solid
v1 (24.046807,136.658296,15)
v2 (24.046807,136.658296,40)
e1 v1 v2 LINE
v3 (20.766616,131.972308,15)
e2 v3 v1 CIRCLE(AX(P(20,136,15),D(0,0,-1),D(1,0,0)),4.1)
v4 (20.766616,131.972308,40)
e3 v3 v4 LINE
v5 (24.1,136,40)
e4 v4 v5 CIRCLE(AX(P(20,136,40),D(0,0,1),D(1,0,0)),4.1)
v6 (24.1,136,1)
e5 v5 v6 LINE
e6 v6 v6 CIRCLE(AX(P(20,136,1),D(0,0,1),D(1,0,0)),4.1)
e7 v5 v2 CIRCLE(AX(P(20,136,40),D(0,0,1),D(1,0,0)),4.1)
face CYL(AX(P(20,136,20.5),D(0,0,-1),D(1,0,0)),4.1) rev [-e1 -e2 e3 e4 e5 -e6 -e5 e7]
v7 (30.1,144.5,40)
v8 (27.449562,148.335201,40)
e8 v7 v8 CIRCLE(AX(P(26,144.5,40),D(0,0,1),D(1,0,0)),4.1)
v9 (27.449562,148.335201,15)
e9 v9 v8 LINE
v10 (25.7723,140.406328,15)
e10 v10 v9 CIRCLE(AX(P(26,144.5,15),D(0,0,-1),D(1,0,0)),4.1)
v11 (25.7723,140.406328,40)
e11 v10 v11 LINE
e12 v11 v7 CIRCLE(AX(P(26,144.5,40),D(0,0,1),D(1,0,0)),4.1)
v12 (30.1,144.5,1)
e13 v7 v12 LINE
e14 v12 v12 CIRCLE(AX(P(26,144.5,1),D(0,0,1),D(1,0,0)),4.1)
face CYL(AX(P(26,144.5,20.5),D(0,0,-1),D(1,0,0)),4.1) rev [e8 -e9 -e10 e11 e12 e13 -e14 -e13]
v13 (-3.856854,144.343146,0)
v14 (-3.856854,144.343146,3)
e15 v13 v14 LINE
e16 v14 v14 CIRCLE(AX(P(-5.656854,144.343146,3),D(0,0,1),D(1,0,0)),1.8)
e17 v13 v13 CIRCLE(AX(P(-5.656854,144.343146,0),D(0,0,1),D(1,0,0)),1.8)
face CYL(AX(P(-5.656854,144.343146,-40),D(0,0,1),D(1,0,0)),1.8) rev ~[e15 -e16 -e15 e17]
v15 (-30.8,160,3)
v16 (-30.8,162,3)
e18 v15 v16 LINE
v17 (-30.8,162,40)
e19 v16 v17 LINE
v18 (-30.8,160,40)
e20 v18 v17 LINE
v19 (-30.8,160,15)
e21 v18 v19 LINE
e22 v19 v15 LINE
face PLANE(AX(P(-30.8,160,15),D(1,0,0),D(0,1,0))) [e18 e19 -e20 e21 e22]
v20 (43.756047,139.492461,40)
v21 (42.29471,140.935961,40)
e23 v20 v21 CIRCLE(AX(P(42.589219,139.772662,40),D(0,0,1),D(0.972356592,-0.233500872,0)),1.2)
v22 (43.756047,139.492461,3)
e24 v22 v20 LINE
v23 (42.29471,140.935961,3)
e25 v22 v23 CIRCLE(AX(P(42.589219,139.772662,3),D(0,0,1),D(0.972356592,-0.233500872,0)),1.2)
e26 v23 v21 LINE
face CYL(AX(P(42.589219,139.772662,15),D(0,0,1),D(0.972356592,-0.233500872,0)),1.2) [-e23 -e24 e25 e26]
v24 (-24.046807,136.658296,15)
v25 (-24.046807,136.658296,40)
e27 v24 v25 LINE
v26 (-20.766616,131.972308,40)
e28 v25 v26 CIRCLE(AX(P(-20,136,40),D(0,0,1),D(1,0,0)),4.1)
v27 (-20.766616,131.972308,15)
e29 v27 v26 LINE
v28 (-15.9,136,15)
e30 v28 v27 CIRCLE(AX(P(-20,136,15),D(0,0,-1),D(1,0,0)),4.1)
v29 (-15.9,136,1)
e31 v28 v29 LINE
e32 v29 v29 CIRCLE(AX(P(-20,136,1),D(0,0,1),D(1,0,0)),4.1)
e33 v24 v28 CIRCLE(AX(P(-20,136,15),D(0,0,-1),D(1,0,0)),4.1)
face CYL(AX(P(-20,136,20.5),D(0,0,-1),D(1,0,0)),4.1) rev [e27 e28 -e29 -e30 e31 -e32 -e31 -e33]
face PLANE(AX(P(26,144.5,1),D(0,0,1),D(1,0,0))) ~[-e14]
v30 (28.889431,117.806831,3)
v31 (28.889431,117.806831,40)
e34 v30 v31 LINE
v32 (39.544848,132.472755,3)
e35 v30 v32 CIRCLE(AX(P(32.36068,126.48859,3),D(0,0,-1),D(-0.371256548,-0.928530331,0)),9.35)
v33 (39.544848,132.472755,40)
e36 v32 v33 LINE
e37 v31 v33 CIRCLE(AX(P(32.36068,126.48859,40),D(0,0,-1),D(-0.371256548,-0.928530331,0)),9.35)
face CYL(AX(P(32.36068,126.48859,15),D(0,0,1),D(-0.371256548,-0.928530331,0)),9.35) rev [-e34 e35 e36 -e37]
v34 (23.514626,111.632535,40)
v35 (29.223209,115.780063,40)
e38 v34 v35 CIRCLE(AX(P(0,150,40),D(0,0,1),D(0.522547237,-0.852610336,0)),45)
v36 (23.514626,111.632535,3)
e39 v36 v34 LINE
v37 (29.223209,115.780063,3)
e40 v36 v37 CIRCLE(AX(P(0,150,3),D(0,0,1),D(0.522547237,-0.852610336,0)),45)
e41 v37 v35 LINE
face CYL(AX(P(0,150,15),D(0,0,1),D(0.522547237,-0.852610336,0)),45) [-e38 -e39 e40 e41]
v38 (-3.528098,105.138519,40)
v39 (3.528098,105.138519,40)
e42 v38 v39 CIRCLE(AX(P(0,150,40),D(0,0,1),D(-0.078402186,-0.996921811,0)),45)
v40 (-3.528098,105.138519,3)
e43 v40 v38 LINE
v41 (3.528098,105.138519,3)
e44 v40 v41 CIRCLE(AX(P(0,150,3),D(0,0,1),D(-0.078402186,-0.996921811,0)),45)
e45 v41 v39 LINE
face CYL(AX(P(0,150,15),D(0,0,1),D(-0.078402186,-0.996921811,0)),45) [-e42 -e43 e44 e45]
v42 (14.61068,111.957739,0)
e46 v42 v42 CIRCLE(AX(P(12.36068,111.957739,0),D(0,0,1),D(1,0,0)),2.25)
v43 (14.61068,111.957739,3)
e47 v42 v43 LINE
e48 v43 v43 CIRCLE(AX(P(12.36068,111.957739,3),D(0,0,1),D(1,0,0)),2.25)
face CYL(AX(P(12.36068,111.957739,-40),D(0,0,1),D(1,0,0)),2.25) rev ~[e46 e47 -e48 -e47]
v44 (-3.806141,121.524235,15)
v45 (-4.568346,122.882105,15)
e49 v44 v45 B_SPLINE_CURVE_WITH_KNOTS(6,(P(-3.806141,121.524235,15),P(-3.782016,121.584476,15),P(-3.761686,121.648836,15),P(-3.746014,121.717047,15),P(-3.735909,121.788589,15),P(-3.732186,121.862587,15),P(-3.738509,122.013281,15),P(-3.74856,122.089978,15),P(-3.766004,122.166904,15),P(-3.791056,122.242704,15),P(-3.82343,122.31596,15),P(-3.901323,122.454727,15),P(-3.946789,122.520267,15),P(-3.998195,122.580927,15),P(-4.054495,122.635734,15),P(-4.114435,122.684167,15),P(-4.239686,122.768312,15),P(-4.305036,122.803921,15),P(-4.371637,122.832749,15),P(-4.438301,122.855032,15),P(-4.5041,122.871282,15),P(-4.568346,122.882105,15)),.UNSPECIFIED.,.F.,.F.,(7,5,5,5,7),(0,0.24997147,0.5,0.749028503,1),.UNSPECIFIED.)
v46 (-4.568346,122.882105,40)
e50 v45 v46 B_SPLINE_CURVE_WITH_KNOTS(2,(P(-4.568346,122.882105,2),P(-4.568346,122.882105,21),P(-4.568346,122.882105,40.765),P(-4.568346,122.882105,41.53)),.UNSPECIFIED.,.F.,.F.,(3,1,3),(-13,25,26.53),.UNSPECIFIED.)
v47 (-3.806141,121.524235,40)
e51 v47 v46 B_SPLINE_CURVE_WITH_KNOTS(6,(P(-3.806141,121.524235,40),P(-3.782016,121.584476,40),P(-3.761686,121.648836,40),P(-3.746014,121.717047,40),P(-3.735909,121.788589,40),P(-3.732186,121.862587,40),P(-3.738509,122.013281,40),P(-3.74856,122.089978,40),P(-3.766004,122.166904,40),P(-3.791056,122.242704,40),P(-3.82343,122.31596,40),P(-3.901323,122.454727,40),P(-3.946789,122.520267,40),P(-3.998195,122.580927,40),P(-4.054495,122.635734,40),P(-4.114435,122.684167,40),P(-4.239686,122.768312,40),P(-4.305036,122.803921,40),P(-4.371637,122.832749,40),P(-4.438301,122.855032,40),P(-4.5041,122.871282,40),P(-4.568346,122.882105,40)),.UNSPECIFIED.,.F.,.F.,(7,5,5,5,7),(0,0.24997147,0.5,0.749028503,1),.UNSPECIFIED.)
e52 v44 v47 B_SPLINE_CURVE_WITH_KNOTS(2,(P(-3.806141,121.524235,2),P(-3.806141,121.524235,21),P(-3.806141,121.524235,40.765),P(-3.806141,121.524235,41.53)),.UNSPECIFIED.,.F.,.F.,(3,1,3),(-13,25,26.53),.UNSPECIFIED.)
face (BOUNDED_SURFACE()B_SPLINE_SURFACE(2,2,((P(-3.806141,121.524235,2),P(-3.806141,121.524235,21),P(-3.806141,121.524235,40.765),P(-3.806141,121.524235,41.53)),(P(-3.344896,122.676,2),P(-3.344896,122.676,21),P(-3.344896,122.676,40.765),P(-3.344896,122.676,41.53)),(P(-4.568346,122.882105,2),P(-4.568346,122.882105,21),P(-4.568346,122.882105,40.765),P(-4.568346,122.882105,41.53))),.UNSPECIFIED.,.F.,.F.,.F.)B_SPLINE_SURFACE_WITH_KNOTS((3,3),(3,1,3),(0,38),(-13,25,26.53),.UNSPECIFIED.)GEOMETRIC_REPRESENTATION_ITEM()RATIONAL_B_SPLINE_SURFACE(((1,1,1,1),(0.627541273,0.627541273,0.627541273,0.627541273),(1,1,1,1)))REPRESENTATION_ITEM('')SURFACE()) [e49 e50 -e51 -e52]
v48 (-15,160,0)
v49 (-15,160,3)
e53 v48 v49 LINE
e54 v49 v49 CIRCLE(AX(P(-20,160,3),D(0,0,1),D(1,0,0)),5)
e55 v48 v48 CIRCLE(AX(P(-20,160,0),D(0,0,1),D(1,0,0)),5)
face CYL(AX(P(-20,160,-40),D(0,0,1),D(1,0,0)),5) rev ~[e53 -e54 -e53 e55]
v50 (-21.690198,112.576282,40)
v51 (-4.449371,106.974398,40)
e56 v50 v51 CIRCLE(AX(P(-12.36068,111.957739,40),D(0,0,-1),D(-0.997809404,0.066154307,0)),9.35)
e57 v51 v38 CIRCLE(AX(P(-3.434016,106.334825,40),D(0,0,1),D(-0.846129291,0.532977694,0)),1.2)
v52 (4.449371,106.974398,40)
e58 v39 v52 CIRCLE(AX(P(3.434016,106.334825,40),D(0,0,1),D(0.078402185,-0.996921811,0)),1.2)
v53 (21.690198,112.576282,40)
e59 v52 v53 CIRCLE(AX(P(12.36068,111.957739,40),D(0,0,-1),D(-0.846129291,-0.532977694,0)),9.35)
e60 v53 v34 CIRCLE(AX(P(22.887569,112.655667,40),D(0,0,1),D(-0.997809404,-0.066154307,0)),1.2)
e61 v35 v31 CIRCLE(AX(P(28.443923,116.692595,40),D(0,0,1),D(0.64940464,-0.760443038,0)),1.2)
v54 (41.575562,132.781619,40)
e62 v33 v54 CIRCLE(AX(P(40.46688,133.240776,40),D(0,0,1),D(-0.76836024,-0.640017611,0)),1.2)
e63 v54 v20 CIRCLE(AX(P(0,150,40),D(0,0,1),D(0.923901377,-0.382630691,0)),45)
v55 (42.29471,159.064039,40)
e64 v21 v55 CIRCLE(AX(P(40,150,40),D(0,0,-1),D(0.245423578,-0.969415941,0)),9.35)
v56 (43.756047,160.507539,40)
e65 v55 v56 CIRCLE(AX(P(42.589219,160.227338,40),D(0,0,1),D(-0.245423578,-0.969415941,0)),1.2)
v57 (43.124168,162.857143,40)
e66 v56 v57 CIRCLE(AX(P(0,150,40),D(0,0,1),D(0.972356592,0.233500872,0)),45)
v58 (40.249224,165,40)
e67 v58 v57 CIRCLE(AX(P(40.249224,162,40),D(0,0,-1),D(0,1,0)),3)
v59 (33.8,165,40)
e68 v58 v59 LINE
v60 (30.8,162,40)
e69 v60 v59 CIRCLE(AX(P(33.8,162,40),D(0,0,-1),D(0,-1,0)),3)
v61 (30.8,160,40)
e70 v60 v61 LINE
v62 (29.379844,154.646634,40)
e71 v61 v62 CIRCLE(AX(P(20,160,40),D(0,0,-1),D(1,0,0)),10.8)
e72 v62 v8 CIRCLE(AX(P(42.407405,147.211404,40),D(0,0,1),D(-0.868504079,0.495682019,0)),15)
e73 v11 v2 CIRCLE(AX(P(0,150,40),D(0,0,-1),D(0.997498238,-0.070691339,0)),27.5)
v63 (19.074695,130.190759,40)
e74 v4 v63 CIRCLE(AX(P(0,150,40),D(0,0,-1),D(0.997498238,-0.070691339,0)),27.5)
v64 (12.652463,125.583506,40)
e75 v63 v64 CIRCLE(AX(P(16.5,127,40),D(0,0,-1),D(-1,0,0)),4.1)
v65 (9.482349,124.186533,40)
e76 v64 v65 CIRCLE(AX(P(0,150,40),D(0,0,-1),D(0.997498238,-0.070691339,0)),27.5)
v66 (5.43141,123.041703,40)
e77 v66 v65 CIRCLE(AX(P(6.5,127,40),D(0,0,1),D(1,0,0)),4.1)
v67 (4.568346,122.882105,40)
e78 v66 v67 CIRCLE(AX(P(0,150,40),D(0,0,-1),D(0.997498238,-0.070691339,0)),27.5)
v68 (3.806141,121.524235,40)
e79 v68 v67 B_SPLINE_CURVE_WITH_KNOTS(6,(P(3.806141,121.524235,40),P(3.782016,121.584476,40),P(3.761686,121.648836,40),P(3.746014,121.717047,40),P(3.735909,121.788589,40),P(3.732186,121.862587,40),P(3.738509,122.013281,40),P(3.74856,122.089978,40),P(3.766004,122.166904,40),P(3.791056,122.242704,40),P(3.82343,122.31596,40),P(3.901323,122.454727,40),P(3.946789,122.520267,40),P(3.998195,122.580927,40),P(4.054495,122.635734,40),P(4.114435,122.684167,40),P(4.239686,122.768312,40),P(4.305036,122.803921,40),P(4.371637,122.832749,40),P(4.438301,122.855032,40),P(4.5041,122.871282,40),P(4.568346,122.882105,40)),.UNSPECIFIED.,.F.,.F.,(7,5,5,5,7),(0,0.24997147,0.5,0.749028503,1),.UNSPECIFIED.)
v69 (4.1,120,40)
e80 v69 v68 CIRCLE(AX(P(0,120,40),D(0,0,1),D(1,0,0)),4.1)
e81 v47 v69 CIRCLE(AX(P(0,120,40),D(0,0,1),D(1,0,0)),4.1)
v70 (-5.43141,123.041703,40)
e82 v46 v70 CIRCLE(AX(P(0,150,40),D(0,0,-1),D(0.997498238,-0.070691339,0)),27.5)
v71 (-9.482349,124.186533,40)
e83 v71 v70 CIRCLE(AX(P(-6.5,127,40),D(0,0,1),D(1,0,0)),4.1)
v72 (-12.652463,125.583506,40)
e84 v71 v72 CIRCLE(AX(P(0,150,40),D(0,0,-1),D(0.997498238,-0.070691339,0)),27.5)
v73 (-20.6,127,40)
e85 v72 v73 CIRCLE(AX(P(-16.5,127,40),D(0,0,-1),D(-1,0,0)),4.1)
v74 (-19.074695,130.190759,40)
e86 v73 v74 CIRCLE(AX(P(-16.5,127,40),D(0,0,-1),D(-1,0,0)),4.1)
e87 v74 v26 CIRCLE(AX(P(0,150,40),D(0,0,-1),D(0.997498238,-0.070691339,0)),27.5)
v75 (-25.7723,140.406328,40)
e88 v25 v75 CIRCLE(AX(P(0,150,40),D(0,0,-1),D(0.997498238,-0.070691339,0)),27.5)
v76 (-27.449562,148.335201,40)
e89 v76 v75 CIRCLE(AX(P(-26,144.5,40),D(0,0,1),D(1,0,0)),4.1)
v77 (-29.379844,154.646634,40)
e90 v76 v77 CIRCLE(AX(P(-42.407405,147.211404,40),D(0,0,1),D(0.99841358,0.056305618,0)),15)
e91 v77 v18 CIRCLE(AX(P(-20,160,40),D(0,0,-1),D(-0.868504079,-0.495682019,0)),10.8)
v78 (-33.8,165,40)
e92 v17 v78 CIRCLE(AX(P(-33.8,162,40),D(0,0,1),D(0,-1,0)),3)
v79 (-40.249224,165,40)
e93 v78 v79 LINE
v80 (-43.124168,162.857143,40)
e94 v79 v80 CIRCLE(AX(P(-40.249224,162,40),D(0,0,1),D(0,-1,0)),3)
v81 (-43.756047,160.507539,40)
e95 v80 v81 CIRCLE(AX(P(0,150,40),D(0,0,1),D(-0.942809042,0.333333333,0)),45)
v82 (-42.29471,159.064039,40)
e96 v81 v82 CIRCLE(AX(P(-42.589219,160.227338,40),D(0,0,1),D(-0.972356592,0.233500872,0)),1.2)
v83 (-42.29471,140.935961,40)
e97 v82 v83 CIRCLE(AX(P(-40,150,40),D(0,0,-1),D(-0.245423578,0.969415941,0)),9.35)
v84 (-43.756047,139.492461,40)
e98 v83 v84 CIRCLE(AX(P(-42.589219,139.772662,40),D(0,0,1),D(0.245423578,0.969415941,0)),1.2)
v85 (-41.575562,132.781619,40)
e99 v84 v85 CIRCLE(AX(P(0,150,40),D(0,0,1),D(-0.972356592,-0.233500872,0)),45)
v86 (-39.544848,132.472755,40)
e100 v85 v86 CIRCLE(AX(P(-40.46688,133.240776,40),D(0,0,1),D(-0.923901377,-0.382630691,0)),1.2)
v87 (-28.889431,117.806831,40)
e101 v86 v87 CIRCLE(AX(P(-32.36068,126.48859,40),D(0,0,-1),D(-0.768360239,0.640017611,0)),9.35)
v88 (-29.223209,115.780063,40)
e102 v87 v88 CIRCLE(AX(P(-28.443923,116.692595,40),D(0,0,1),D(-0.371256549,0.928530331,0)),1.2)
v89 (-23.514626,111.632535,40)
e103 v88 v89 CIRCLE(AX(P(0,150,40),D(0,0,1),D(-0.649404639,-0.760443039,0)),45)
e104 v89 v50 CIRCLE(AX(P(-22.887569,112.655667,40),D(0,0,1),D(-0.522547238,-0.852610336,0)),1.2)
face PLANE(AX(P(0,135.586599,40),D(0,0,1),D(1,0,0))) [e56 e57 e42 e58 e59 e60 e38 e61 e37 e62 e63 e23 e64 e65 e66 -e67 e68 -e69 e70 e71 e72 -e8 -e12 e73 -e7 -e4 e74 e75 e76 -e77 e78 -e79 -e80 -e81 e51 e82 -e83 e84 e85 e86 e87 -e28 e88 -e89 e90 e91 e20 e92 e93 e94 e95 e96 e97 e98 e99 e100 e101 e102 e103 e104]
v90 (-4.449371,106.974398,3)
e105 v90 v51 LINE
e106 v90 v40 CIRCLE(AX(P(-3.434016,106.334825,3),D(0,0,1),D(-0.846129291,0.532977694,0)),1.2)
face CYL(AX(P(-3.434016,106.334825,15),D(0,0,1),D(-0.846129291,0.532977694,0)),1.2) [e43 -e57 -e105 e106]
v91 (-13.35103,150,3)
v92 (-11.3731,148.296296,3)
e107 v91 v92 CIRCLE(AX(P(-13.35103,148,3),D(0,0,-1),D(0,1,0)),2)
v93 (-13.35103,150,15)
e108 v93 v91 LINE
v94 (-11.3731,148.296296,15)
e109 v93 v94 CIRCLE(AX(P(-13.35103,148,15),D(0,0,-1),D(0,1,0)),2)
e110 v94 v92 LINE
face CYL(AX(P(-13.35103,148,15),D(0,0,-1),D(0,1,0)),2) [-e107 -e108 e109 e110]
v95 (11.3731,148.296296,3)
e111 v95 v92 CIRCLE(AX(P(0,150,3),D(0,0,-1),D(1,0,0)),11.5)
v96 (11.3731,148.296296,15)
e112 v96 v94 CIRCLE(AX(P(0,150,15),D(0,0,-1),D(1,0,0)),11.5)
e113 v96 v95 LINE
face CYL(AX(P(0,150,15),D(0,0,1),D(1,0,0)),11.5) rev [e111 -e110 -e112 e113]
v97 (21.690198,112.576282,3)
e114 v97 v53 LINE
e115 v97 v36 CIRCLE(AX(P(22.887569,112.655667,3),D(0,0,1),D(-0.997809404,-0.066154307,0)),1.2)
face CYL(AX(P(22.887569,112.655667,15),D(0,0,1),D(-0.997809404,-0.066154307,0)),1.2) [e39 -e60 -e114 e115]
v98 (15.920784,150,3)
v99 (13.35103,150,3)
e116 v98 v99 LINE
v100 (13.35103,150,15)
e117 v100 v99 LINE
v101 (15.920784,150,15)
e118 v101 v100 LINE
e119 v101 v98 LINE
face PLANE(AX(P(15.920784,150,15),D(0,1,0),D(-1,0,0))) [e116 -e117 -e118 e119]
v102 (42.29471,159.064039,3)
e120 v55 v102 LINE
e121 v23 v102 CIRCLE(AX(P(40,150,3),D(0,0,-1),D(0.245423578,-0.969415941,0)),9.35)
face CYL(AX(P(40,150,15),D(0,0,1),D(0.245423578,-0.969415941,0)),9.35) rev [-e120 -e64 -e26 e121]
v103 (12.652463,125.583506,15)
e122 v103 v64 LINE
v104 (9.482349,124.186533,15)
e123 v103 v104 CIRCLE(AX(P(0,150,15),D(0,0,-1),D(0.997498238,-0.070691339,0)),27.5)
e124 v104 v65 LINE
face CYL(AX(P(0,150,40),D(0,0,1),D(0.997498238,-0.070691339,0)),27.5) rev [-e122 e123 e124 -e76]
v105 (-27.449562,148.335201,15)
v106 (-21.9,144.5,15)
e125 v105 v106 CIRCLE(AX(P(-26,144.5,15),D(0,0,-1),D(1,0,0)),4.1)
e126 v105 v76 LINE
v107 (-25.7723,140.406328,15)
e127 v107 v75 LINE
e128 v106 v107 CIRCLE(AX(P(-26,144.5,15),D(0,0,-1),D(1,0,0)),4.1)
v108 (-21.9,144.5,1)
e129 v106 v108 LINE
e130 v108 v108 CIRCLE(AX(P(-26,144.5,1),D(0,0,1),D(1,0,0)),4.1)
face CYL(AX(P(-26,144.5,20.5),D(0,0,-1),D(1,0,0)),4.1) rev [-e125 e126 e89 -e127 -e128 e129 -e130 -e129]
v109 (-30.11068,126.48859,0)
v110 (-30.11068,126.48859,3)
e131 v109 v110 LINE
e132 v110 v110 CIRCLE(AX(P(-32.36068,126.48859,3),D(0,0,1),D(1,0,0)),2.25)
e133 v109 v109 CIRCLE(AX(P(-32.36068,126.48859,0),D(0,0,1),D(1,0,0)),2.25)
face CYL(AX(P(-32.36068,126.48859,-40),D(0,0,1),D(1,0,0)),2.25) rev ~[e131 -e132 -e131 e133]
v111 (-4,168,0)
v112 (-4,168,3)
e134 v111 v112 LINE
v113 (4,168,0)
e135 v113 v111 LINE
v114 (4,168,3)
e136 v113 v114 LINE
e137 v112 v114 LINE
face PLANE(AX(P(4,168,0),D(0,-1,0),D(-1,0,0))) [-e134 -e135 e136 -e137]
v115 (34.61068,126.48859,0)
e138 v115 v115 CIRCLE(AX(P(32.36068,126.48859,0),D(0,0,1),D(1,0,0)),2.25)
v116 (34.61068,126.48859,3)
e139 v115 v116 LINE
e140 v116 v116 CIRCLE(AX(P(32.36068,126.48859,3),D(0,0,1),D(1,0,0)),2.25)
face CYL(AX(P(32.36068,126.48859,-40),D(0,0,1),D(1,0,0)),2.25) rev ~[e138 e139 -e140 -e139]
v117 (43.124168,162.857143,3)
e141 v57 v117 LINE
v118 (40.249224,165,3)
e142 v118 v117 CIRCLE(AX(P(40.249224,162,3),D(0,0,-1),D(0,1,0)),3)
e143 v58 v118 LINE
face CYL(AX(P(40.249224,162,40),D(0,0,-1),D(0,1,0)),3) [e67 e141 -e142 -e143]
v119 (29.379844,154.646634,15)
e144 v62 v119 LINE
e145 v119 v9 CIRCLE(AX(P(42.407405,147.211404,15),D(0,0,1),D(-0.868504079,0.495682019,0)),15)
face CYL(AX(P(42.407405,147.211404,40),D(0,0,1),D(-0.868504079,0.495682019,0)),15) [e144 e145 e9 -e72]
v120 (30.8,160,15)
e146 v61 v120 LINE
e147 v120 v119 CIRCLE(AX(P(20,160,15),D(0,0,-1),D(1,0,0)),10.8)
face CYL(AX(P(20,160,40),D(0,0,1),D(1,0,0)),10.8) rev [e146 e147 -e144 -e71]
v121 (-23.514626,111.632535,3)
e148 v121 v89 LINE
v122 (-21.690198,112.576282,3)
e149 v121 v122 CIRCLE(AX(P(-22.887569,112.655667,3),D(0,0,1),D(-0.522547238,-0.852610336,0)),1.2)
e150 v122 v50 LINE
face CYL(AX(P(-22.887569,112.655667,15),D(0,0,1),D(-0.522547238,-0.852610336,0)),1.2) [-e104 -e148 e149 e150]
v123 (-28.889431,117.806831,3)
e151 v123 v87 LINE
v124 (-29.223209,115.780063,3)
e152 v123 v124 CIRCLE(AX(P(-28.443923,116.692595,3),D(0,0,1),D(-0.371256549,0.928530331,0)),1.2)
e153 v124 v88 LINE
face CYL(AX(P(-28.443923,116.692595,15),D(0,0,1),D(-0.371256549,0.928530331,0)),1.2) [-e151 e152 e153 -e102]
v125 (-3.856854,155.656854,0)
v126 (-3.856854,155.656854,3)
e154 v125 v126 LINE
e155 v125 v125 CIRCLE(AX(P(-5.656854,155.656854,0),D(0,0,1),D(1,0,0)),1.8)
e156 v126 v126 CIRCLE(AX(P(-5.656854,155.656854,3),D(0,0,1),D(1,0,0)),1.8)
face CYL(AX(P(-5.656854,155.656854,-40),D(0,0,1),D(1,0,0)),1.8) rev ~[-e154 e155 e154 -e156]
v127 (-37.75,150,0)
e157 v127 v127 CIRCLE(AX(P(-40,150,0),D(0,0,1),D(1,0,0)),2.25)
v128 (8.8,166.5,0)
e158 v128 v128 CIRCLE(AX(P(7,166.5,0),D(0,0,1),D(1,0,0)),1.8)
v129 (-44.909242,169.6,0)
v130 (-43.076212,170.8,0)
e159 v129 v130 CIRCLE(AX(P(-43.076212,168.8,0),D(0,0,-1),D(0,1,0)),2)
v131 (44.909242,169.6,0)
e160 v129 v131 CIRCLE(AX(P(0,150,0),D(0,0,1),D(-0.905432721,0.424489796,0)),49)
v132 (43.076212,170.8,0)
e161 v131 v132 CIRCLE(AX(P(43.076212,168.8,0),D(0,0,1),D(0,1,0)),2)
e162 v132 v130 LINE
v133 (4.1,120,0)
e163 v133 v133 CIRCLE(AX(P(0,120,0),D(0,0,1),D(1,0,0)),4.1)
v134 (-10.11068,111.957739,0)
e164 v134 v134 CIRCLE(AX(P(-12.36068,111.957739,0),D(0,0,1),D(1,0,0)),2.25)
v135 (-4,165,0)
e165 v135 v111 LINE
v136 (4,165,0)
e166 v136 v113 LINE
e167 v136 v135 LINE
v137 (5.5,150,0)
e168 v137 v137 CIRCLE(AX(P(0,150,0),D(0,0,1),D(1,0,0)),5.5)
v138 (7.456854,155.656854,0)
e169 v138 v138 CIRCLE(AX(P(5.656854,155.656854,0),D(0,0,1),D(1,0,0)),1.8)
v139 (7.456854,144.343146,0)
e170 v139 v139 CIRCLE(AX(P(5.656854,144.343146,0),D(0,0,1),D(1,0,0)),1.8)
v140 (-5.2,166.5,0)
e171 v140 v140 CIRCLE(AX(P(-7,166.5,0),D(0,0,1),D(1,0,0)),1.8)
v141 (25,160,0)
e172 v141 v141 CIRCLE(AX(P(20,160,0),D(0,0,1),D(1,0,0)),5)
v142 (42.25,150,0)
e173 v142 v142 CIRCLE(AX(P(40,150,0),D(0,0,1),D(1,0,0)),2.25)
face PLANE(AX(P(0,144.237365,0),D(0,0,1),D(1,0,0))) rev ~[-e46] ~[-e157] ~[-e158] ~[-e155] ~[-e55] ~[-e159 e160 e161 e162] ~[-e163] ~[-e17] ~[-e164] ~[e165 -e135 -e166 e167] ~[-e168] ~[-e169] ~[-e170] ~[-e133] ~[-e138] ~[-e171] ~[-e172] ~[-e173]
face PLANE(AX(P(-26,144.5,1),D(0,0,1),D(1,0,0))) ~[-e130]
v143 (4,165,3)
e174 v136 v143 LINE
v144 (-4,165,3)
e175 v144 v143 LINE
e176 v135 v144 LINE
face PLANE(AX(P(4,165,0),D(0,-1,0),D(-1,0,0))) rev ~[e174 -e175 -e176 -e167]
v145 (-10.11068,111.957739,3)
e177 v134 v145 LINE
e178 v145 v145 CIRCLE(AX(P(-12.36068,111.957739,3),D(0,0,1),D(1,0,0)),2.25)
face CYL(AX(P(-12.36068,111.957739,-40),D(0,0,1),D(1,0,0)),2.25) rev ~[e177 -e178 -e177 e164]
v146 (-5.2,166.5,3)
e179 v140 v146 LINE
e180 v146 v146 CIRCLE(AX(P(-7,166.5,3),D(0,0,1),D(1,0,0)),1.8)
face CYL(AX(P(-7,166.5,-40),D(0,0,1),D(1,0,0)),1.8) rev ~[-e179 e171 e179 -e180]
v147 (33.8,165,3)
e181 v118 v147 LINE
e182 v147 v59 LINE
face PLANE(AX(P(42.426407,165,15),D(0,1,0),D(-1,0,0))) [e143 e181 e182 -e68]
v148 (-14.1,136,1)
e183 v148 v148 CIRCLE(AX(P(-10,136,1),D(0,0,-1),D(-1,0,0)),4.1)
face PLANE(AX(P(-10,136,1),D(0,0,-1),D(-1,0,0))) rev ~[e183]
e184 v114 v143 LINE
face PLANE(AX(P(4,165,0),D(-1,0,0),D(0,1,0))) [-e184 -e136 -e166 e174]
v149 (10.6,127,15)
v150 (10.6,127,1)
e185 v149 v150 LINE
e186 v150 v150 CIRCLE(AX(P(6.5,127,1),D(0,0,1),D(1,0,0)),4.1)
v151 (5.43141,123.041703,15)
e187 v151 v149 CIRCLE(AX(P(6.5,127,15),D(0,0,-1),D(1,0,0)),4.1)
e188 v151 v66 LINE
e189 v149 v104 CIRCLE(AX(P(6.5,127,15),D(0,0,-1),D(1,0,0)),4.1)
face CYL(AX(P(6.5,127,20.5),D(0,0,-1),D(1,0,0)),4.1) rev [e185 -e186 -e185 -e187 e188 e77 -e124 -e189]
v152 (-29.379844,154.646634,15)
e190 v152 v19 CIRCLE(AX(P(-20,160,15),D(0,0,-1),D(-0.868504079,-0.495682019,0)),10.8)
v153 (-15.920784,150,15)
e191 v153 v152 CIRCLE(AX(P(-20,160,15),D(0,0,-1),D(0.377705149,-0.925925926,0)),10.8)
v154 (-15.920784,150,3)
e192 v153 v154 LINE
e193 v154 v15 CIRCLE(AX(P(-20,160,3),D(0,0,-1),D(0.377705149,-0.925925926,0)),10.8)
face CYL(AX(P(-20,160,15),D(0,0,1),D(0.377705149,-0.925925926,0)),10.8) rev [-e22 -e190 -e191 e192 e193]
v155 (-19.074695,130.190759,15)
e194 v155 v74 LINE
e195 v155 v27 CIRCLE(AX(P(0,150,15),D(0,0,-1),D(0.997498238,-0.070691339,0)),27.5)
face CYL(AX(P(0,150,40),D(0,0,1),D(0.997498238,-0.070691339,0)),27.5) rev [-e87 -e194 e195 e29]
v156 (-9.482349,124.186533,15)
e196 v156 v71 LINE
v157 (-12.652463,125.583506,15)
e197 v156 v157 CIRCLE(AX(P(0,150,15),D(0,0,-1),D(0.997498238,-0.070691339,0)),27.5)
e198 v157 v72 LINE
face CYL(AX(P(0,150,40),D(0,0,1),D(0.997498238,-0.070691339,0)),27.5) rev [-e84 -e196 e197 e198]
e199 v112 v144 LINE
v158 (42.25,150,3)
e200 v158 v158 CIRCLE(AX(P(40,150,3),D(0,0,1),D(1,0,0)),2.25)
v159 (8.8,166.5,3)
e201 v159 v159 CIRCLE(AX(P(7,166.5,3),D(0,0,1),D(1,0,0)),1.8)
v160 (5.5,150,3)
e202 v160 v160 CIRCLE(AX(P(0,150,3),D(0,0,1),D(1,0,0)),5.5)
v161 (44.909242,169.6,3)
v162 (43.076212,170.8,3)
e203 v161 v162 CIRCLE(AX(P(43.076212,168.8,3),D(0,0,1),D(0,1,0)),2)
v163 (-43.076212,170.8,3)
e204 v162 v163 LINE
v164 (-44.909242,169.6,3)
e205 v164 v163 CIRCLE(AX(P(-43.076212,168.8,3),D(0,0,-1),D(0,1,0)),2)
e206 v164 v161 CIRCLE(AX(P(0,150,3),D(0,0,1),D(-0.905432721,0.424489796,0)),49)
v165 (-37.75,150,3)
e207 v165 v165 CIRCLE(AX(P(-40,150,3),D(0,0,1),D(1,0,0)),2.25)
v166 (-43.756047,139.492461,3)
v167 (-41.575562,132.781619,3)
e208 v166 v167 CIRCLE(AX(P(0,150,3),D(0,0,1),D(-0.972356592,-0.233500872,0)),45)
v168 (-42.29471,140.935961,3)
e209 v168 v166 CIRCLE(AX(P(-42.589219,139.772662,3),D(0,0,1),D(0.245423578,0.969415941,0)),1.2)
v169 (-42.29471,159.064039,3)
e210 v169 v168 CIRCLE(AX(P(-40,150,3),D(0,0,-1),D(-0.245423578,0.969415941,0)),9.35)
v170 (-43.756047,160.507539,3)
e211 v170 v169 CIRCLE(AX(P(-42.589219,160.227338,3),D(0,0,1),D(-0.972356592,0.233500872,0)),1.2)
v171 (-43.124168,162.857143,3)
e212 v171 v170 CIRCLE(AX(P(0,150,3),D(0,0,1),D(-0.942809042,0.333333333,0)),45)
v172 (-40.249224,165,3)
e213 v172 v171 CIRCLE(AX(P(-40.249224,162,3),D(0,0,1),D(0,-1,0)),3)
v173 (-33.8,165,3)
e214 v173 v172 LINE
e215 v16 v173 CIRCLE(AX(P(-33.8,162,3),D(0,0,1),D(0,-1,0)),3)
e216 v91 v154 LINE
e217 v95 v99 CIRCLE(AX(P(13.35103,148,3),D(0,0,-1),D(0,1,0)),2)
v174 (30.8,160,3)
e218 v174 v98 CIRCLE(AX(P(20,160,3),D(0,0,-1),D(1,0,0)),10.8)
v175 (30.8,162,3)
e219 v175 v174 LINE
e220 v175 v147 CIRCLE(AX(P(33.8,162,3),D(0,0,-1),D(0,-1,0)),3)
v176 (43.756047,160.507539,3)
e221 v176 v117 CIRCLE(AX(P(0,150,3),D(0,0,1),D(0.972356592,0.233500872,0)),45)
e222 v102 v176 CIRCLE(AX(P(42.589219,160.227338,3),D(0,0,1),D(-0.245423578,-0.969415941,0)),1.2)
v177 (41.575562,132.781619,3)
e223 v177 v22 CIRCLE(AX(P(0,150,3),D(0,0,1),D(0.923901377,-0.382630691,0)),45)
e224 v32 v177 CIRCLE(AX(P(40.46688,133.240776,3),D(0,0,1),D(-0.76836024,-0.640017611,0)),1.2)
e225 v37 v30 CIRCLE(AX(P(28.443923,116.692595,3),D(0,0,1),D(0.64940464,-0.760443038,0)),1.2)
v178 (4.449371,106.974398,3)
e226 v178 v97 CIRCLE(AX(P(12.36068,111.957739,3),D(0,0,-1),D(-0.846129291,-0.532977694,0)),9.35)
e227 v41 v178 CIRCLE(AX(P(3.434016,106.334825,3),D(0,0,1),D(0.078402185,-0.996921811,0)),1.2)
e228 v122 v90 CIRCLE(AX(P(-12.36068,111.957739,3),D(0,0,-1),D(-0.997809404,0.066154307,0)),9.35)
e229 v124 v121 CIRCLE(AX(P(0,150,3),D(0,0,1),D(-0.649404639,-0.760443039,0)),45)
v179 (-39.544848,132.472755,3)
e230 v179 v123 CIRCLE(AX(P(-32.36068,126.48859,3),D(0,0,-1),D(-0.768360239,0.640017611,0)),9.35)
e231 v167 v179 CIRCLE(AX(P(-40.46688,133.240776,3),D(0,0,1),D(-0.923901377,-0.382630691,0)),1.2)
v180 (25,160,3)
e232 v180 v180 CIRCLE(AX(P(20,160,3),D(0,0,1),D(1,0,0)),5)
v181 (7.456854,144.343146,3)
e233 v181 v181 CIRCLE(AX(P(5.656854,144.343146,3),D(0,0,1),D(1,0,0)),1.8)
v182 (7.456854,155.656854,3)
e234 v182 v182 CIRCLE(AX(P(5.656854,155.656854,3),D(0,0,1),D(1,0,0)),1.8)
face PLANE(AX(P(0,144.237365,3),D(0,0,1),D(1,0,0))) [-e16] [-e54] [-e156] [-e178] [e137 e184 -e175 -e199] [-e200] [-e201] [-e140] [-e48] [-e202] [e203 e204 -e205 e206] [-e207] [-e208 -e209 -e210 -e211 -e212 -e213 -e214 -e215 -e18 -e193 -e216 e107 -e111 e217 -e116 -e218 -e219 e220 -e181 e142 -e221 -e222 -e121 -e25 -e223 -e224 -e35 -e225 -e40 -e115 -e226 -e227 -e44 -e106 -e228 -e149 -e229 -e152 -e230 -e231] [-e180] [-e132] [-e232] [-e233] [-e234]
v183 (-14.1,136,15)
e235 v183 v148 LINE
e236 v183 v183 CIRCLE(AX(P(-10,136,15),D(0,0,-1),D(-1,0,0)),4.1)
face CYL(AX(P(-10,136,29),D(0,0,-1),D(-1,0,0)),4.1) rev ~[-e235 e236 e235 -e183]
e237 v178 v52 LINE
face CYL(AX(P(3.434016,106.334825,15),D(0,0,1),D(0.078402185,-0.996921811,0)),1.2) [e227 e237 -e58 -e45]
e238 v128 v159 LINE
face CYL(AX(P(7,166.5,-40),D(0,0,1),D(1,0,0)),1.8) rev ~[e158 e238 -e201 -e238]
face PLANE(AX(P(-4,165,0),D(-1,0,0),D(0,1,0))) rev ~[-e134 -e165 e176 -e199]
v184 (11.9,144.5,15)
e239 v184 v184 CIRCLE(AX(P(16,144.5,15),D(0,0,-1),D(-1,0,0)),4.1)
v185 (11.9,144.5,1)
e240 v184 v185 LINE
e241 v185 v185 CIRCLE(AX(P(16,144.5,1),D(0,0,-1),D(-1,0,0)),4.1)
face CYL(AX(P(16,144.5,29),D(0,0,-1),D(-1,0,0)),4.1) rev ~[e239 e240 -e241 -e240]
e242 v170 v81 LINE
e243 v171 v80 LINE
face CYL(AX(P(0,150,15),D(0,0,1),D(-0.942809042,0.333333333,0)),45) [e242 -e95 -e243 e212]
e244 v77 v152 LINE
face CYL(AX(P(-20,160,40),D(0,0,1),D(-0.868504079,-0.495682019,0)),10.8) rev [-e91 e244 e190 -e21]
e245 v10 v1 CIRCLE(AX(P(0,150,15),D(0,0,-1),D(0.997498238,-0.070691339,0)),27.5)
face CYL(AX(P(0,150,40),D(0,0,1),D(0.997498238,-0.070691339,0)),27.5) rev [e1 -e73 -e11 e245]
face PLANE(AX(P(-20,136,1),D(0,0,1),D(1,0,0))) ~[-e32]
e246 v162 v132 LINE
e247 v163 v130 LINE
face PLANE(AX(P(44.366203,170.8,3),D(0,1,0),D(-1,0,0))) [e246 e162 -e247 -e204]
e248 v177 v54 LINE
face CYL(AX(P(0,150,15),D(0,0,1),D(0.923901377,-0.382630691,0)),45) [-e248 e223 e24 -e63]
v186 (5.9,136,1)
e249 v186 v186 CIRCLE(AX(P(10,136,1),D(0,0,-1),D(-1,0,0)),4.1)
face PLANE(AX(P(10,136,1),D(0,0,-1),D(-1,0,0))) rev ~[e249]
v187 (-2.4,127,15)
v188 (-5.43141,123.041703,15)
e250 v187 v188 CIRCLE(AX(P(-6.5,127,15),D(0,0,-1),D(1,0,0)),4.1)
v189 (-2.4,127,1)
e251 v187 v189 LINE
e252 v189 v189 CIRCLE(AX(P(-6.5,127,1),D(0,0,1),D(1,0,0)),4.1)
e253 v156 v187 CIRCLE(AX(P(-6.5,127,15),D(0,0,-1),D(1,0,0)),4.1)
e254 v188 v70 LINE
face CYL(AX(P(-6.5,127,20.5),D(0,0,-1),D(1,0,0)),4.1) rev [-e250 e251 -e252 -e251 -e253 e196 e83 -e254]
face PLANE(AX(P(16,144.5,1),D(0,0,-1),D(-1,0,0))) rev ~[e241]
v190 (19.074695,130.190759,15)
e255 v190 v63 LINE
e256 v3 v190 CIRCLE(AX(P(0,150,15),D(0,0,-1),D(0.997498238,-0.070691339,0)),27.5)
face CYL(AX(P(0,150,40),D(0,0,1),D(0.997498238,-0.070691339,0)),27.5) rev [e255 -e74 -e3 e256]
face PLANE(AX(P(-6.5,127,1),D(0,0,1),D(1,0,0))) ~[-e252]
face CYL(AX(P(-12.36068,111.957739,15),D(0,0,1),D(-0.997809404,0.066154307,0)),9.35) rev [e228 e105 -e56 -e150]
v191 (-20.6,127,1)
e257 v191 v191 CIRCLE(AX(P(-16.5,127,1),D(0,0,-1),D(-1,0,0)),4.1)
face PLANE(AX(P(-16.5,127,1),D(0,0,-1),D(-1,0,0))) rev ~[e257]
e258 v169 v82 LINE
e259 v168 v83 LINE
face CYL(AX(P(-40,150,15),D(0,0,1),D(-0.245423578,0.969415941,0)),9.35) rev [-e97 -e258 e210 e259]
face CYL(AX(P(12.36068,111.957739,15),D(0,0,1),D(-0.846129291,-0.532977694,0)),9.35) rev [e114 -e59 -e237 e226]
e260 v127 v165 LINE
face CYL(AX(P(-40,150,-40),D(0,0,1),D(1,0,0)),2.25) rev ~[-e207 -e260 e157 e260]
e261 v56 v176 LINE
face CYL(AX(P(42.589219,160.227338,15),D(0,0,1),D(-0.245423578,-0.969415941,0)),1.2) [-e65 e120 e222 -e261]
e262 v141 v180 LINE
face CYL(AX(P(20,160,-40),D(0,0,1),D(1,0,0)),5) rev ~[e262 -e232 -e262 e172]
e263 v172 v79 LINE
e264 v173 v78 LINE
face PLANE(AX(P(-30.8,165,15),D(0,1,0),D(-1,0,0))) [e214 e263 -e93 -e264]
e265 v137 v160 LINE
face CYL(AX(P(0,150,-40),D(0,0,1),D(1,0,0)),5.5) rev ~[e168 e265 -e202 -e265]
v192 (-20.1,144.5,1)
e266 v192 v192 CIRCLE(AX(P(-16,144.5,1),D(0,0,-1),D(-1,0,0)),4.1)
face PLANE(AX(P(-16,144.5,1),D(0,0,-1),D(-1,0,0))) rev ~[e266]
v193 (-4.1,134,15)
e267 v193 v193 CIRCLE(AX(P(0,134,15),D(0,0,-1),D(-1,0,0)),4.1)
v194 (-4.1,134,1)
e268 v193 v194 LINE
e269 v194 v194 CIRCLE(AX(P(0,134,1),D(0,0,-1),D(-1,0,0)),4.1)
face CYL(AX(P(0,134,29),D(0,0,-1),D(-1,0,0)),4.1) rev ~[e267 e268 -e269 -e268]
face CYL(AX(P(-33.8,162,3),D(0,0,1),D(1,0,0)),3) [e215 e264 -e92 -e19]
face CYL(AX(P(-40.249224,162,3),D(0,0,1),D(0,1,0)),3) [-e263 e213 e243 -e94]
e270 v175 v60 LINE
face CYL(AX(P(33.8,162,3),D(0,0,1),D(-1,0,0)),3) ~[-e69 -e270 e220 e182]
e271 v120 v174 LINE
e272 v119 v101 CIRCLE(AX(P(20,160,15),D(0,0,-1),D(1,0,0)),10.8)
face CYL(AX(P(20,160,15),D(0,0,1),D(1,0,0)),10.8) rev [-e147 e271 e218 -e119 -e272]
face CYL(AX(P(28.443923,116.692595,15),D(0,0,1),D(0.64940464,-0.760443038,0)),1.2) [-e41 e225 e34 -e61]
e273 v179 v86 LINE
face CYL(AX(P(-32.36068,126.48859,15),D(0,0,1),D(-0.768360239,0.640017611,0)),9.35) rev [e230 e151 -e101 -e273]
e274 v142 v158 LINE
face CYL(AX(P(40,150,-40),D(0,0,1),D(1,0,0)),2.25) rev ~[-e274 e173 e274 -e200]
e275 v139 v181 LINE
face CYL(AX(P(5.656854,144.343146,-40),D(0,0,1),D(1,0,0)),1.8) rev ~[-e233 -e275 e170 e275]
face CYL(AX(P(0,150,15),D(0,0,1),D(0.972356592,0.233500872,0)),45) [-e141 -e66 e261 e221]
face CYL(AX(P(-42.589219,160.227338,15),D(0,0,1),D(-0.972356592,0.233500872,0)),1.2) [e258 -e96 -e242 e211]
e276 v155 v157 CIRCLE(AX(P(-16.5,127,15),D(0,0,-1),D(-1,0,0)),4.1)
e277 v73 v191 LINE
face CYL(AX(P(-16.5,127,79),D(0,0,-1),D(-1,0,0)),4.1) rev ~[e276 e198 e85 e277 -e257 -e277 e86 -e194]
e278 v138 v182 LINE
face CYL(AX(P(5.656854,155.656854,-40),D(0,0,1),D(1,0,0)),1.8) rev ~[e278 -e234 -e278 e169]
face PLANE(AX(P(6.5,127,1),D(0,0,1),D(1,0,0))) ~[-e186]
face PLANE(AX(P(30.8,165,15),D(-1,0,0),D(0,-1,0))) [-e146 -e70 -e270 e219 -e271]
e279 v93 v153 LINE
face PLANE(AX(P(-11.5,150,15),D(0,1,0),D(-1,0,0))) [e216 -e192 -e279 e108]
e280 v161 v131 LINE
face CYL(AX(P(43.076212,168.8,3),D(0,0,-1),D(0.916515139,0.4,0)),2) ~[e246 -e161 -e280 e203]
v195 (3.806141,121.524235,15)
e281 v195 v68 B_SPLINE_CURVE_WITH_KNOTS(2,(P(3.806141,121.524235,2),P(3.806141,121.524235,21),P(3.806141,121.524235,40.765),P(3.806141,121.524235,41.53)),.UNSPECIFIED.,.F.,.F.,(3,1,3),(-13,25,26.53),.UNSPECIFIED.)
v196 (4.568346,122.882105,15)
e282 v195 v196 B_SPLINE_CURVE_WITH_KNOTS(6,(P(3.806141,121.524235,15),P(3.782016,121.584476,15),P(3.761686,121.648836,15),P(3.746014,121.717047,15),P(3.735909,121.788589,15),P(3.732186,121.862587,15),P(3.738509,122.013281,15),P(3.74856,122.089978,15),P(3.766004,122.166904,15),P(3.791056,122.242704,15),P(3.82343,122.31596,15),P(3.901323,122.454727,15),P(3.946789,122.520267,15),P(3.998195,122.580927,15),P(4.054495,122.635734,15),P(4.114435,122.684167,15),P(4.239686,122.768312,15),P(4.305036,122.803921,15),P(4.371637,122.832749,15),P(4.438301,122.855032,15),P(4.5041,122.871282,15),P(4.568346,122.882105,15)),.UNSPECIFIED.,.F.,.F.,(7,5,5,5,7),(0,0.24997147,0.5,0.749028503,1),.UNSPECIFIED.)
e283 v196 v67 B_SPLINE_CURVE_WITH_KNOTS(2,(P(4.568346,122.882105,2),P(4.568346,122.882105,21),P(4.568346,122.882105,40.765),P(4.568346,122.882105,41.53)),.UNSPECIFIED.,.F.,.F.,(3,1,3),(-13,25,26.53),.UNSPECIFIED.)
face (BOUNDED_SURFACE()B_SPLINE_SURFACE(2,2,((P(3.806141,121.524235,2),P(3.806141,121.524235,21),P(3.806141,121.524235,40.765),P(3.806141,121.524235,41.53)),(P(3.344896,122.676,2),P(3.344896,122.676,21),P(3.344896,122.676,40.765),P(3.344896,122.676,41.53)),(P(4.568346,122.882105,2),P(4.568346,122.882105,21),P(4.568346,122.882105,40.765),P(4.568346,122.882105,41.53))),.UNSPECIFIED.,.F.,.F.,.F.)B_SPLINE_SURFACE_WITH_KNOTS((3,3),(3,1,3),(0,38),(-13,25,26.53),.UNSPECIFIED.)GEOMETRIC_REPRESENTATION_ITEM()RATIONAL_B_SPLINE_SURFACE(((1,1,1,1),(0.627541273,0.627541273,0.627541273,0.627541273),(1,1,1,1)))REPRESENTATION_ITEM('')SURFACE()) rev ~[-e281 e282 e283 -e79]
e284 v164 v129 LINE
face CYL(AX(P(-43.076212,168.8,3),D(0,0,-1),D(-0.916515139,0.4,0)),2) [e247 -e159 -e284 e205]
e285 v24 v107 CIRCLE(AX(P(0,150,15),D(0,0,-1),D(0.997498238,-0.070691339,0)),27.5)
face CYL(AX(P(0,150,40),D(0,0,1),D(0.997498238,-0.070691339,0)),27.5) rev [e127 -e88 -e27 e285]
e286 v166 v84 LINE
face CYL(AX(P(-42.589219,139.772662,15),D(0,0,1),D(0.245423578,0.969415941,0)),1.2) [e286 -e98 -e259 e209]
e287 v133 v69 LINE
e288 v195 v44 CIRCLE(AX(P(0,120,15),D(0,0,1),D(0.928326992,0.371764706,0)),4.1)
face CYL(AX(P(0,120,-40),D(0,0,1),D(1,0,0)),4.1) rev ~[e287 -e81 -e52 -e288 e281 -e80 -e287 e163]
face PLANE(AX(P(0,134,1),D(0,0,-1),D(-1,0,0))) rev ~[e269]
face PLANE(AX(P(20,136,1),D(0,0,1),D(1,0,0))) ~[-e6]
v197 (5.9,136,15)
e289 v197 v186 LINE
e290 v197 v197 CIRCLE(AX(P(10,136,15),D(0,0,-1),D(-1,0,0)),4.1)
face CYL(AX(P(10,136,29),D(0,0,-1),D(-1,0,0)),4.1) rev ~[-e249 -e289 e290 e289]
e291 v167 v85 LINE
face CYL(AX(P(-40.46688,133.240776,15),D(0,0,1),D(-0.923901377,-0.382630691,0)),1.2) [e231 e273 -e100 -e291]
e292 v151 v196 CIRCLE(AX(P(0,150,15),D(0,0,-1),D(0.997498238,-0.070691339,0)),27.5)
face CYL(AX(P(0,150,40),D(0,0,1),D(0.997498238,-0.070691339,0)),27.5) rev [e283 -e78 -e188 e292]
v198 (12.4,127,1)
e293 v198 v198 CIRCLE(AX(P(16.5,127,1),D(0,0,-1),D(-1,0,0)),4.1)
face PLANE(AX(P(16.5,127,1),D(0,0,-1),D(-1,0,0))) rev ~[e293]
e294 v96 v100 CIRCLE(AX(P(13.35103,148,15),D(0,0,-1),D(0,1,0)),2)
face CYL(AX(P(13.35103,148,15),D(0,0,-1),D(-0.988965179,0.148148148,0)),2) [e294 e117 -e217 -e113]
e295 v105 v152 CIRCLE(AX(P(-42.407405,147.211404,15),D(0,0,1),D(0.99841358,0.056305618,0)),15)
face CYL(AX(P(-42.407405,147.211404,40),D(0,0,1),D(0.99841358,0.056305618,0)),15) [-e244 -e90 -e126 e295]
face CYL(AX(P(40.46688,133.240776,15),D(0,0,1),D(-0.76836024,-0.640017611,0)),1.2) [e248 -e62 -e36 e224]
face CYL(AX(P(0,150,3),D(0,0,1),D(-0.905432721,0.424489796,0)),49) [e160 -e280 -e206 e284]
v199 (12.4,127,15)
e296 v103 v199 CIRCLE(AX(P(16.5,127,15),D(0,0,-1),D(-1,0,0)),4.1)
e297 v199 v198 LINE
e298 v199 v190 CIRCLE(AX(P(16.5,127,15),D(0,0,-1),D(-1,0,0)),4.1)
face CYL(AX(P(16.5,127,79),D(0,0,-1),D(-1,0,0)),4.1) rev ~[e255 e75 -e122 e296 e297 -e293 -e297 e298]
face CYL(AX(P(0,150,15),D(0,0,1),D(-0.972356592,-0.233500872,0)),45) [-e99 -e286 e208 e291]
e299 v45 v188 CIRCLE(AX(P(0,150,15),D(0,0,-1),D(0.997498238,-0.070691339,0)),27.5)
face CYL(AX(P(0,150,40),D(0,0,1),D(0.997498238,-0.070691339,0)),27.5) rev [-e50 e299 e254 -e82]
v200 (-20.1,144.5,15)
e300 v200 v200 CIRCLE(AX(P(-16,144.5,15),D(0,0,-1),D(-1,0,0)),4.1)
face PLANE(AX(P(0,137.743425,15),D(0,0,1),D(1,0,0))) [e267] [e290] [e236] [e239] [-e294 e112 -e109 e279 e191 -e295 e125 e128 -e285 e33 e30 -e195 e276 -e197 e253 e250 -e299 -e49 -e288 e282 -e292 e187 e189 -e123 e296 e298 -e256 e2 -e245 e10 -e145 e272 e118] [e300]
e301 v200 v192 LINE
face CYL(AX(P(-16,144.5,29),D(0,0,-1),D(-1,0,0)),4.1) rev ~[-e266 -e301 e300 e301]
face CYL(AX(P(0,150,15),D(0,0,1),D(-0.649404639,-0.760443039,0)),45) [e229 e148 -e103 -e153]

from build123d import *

# Parameters (mm, degrees)
EXTRUDE_1_DEPTH             = 25
EXTRUDE_2_DEPTH             = 12
EXTRUDE_3_DEPTH             = 3
SKETCH_4_W                  = 8
SKETCH_4_H                  = 3
CUT_EXTRUDE_1_DEPTH         = 41
SKETCH_5_W                  = 4.1
SKETCH_5_H                  = 39
SKETCH_6_W                  = 4.1
SKETCH_6_H                  = 39
SKETCH_7_W                  = 4.1
SKETCH_7_H                  = 39
SKETCH_8_W                  = 4.1
SKETCH_8_H                  = 39
SKETCH_9_W                  = 4.1
SKETCH_9_H                  = 39
SKETCH_10_W                 = 4.1
SKETCH_10_H                 = 39
HOLE_WIZARD_8_2_8_2_1_D     = 8.2
HOLE_WIZARD_8_2_8_2_1_DEPTH = 39
HOLE_WIZARD_8_2_8_2_2_D     = 8.2
HOLE_WIZARD_8_2_8_2_2_DEPTH = 14
HOLE_WIZARD_8_2_8_2_3_D     = 8.2
HOLE_WIZARD_8_2_8_2_3_DEPTH = 40
HOLE_WIZARD_4_5_4_5_1_D     = 4.5
HOLE_WIZARD_4_5_4_5_1_DEPTH = 40
HOLE_WIZARD_11_0_11_1_D     = 11
HOLE_WIZARD_11_0_11_1_DEPTH = 40
HOLE_WIZARD_10_0_10_1_D     = 10
HOLE_WIZARD_10_0_10_1_DEPTH = 40
HOLE_WIZARD_3_6_3_6_1_D     = 3.6
HOLE_WIZARD_3_6_3_6_1_DEPTH = 40
FILLET_1_R                  = 1
FILLET_2_R                  = 2
FILLET_3_R                  = 3


with BuildPart() as part:
    # 草图1 → 凸台-拉伸1 (new body)
    with BuildSketch(Plane.XY.offset(40)):
        with BuildLine():
            Line((-30.8, 160), (-30.8, 165))
            Line((-30.8, 165), (-42.426406871, 165))
            ThreePointArc((-42.426406871, 165), (-43.14973204, 162.7710855), (-43.756046661, 160.507539227))
            ThreePointArc((-43.756046661, 160.507539227), (-43.432520931, 159.373616076), (-42.294710456, 159.064039051))
            ThreePointArc((-42.294710456, 159.064039051), (-30.65, 150), (-42.294710456, 140.935960949))
            ThreePointArc((-42.294710456, 140.935960949), (-43.432520931, 140.626383924), (-43.756046661, 139.492460773))
            ThreePointArc((-43.756046661, 139.492460773), (-42.797543233, 136.094235253), (-41.575561951, 132.781618878))
            ThreePointArc((-41.575561951, 132.781618878), (-40.647320832, 132.054419431), (-39.544848012, 132.472754574))
            ThreePointArc((-39.544848012, 132.472754574), (-24.796370878, 131.984382017), (-28.889431051, 117.806831314))
            ThreePointArc((-28.889431051, 117.806831314), (-29.627974251, 116.887590023), (-29.22320876, 115.78006327))
            ThreePointArc((-29.22320876, 115.78006327), (-26.450336353, 113.594235253), (-23.514625677, 111.632534886))
            ThreePointArc((-23.514625677, 111.632534886), (-22.336225726, 111.589824616), (-21.690197707, 112.57628212))
            ThreePointArc((-21.690197707, 112.57628212), (-9.471370878, 120.850117776), (-4.449370899, 106.974397911))
            ThreePointArc((-4.449370899, 106.974397911), (-4.506548426, 105.796611284), (-3.528098373, 105.138518506))
            ThreePointArc((-3.528098373, 105.138518506), (0, 105), (3.528098373, 105.138518506))
            ThreePointArc((3.528098373, 105.138518506), (4.506548426, 105.796611284), (4.449370899, 106.974397911))
            ThreePointArc((4.449370899, 106.974397911), (9.471370878, 120.850117776), (21.690197707, 112.57628212))
            ThreePointArc((21.690197707, 112.57628212), (22.336225726, 111.589824616), (23.514625677, 111.632534886))
            ThreePointArc((23.514625677, 111.632534886), (26.450336353, 113.594235253), (29.22320876, 115.78006327))
            ThreePointArc((29.22320876, 115.78006327), (29.627974251, 116.887590023), (28.889431051, 117.806831314))
            ThreePointArc((28.889431051, 117.806831314), (24.796370878, 131.984382017), (39.544848012, 132.472754574))
            ThreePointArc((39.544848012, 132.472754574), (40.647320832, 132.054419431), (41.575561951, 132.781618878))
            ThreePointArc((41.575561951, 132.781618878), (42.797543233, 136.094235253), (43.756046661, 139.492460773))
            ThreePointArc((43.756046661, 139.492460773), (43.432520931, 140.626383924), (42.294710456, 140.935960949))
            ThreePointArc((42.294710456, 140.935960949), (30.65, 150), (42.294710456, 159.064039051))
            ThreePointArc((42.294710456, 159.064039051), (43.432520931, 159.373616076), (43.756046661, 160.507539227))
            ThreePointArc((43.756046661, 160.507539227), (43.14973204, 162.7710855), (42.426406871, 165))
            Line((42.426406871, 165), (30.8, 165))
            Line((30.8, 165), (30.8, 160))
            ThreePointArc((30.8, 160), (30.438925132, 157.230732571), (29.379844057, 154.646634192))
            ThreePointArc((29.379844057, 154.646634192), (28.022973878, 151.464418622), (27.431201542, 148.055988174))
            ThreePointArc((27.431201542, 148.055988174), (0, 122.5), (-27.431201542, 148.055988174))
            ThreePointArc((-27.431201542, 148.055988174), (-28.022973878, 151.464418622), (-29.379844057, 154.646634192))
            ThreePointArc((-29.379844057, 154.646634192), (-30.438925132, 157.230732571), (-30.8, 160))
        make_face()
    extrude(amount=-EXTRUDE_1_DEPTH)

    # 草图2 → 凸台-拉伸2 (add)
    with BuildSketch(Plane(origin=(0, 0, 15), x_dir=(-1, 0, 0), z_dir=(0, 0, -1))):
        with BuildLine():
            Line((-42.426406871, 165), (-30.8, 165))
            Line((-30.8, 165), (-30.8, 160))
            ThreePointArc((-30.8, 160), (-26.024303752, 151.036308556), (-15.920784389, 150))
            Line((-15.920784389, 150), (-11.5, 150))
            ThreePointArc((-11.5, 150), (0, 138.5), (11.5, 150))
            Line((11.5, 150), (15.920784389, 150))
            ThreePointArc((15.920784389, 150), (26.024303752, 151.036308556), (30.8, 160))
            Line((30.8, 160), (30.8, 165))
            Line((30.8, 165), (42.426406871, 165))
            ThreePointArc((42.426406871, 165), (43.14973204, 162.7710855), (43.756046661, 160.507539227))
            ThreePointArc((43.756046661, 160.507539227), (43.432520931, 159.373616076), (42.294710456, 159.064039051))
            ThreePointArc((42.294710456, 159.064039051), (30.65, 150), (42.294710456, 140.935960949))
            ThreePointArc((42.294710456, 140.935960949), (43.432520931, 140.626383924), (43.756046661, 139.492460773))
            ThreePointArc((43.756046661, 139.492460773), (42.797543233, 136.094235253), (41.575561951, 132.781618878))
            ThreePointArc((41.575561951, 132.781618878), (40.647320832, 132.054419431), (39.544848012, 132.472754574))
            ThreePointArc((39.544848012, 132.472754574), (24.796370878, 131.984382017), (28.889431051, 117.806831314))
            ThreePointArc((28.889431051, 117.806831314), (29.627974251, 116.887590023), (29.22320876, 115.78006327))
            ThreePointArc((29.22320876, 115.78006327), (26.450336353, 113.594235253), (23.514625677, 111.632534886))
            ThreePointArc((23.514625677, 111.632534886), (22.336225726, 111.589824616), (21.690197707, 112.57628212))
            ThreePointArc((21.690197707, 112.57628212), (9.471370878, 120.850117776), (4.449370899, 106.974397911))
            ThreePointArc((4.449370899, 106.974397911), (4.506548426, 105.796611284), (3.528098373, 105.138518506))
            ThreePointArc((3.528098373, 105.138518506), (0, 105), (-3.528098373, 105.138518506))
            ThreePointArc((-3.528098373, 105.138518506), (-4.506548426, 105.796611284), (-4.449370899, 106.974397911))
            ThreePointArc((-4.449370899, 106.974397911), (-9.471370878, 120.850117776), (-21.690197707, 112.57628212))
            ThreePointArc((-21.690197707, 112.57628212), (-22.336225726, 111.589824616), (-23.514625677, 111.632534886))
            ThreePointArc((-23.514625677, 111.632534886), (-26.450336353, 113.594235253), (-29.22320876, 115.78006327))
            ThreePointArc((-29.22320876, 115.78006327), (-29.627974251, 116.887590023), (-28.889431051, 117.806831314))
            ThreePointArc((-28.889431051, 117.806831314), (-24.796370878, 131.984382017), (-39.544848012, 132.472754574))
            ThreePointArc((-39.544848012, 132.472754574), (-40.647320832, 132.054419431), (-41.575561951, 132.781618878))
            ThreePointArc((-41.575561951, 132.781618878), (-42.797543233, 136.094235253), (-43.756046661, 139.492460773))
            ThreePointArc((-43.756046661, 139.492460773), (-43.432520931, 140.626383924), (-42.294710456, 140.935960949))
            ThreePointArc((-42.294710456, 140.935960949), (-30.65, 150), (-42.294710456, 159.064039051))
            ThreePointArc((-42.294710456, 159.064039051), (-43.432520931, 159.373616076), (-43.756046661, 160.507539227))
            ThreePointArc((-43.756046661, 160.507539227), (-43.14973204, 162.7710855), (-42.426406871, 165))
        make_face()
    extrude(amount=EXTRUDE_2_DEPTH)

    # 草图3 → 凸台-拉伸3 (add)
    with BuildSketch(Plane.XY.offset(3)):
        with BuildLine():
            Line((44.366203353, 170.8), (-44.366203353, 170.8))
            ThreePointArc((-44.366203353, 170.8), (0, 101), (44.366203353, 170.8))
        make_face()
    extrude(amount=-EXTRUDE_3_DEPTH)

    # 草图4 → 切除-拉伸1 (cut, through all)
    with BuildSketch(Plane(origin=(0, 0, 0), x_dir=(-1, 0, 0), z_dir=(0, 0, -1))):
        with Locations((0, 166.5)):
            Rectangle(SKETCH_4_W, SKETCH_4_H)
    extrude(amount=-CUT_EXTRUDE_1_DEPTH, mode=Mode.SUBTRACT)

    # 草图5 → 切除-旋转1 (revolve, cut)
    with BuildSketch(Plane(origin=(0, 144.5, 0), x_dir=(1, 0, 0), z_dir=(0, 1, 0))):
        with Locations((28.05, -20.5)):
            Rectangle(SKETCH_5_W, SKETCH_5_H)
    revolve(axis=Axis((26, 144.5, 1), (0, 0, 1)), mode=Mode.SUBTRACT)

    # 草图6 → 切除-旋转2 (revolve, cut)
    with BuildSketch(Plane(origin=(0, 136, 0), x_dir=(1, 0, 0), z_dir=(0, 1, 0))):
        with Locations((22.05, -20.5)):
            Rectangle(SKETCH_6_W, SKETCH_6_H)
    revolve(axis=Axis((20, 136, 1), (0, 0, 1)), mode=Mode.SUBTRACT)

    # 草图7 → 切除-旋转3 (revolve, cut)
    with BuildSketch(Plane(origin=(0, 127, 0), x_dir=(1, 0, 0), z_dir=(0, 1, 0))):
        with Locations((8.55, -20.5)):
            Rectangle(SKETCH_7_W, SKETCH_7_H)
    revolve(axis=Axis((6.5, 127, 1), (0, 0, 1)), mode=Mode.SUBTRACT)

    # 草图8 → 切除-旋转4 (revolve, cut)
    with BuildSketch(Plane(origin=(0, 127, 0), x_dir=(1, 0, 0), z_dir=(0, 1, 0))):
        with Locations((-4.45, -20.5)):
            Rectangle(SKETCH_8_W, SKETCH_8_H)
    revolve(axis=Axis((-6.5, 127, 1), (0, 0, 1)), mode=Mode.SUBTRACT)

    # 草图9 → 切除-旋转5 (revolve, cut)
    with BuildSketch(Plane(origin=(0, 136, 0), x_dir=(1, 0, 0), z_dir=(0, 1, 0))):
        with Locations((-17.95, -20.5)):
            Rectangle(SKETCH_9_W, SKETCH_9_H)
    revolve(axis=Axis((-20, 136, 1), (0, 0, 1)), mode=Mode.SUBTRACT)

    # 草图10 → 切除-旋转6 (revolve, cut)
    with BuildSketch(Plane(origin=(0, 144.5, 0), x_dir=(1, 0, 0), z_dir=(0, 1, 0))):
        with Locations((-23.95, -20.5)):
            Rectangle(SKETCH_10_W, SKETCH_10_H)
    revolve(axis=Axis((-26, 144.5, 1), (0, 0, 1)), mode=Mode.SUBTRACT)

    # Ø8.2 (8.2) 直径孔1
    with Locations(Plane.XY.offset(40)):
        with Locations((-16.5, 127), (16.5, 127)):
            Hole(HOLE_WIZARD_8_2_8_2_1_D / 2, depth=HOLE_WIZARD_8_2_8_2_1_DEPTH)

    # Ø8.2 (8.2) 直径孔2
    with Locations(Plane.XY.offset(15)):
        with Locations((0, 134), (10, 136), (16, 144.5), (-10, 136), (-16, 144.5)):
            Hole(HOLE_WIZARD_8_2_8_2_2_D / 2, depth=HOLE_WIZARD_8_2_8_2_2_DEPTH)

    # Ø8.2 (8.2) 直径孔3
    with Locations(Plane(origin=(0, 0, 0), x_dir=(-1, 0, 0), z_dir=(0, 0, -1))):
        with Locations((0, 120)):
            Hole(HOLE_WIZARD_8_2_8_2_3_D / 2, depth=HOLE_WIZARD_8_2_8_2_3_DEPTH)

    # Ø4.5 (4.5) 直径孔1
    with Locations(Plane(origin=(0, 0, 0), x_dir=(-1, 0, 0), z_dir=(0, 0, -1))):
        with Locations((-40, 150), (-32.360679775, 126.488589908), (-12.360679775, 111.957739348), (12.360679775, 111.957739348), (32.360679775, 126.488589908), (40, 150)):
            Hole(HOLE_WIZARD_4_5_4_5_1_D / 2, depth=HOLE_WIZARD_4_5_4_5_1_DEPTH)

    # Ø11.0 (11) 直径孔1
    with Locations(Plane(origin=(0, 0, 0), x_dir=(-1, 0, 0), z_dir=(0, 0, -1))):
        with Locations((0, 150)):
            Hole(HOLE_WIZARD_11_0_11_1_D / 2, depth=HOLE_WIZARD_11_0_11_1_DEPTH)

    # Ø10.0 (10) 直径孔1
    with Locations(Plane(origin=(0, 0, 0), x_dir=(-1, 0, 0), z_dir=(0, 0, -1))):
        with Locations((20, 160), (-20, 160)):
            Hole(HOLE_WIZARD_10_0_10_1_D / 2, depth=HOLE_WIZARD_10_0_10_1_DEPTH)

    # Ø3.6 (3.6) 直径孔1
    with Locations(Plane(origin=(0, 0, 0), x_dir=(-1, 0, 0), z_dir=(0, 0, -1))):
        with Locations((5.656854249, 155.656854249), (-7, 166.5), (7, 166.5), (5.656854249, 144.343145751), (-5.656854249, 144.343145751), (-5.656854249, 155.656854249)):
            Hole(HOLE_WIZARD_3_6_3_6_1_D / 2, depth=HOLE_WIZARD_3_6_3_6_1_DEPTH)

    # 圆角1
    fillet_1_edges = [part.edges().sort_by_distance(p)[0] for p in [
        (3.106287817, 122.676, 27.5),
        (-3.106287817, 122.676, 27.5),
    ]]
    fillet(fillet_1_edges, radius=FILLET_1_R)

    # 圆角2
    fillet_2_edges = [part.edges().sort_by_distance(p)[0] for p in [
        (-11.5, 150, 9),
        (11.5, 150, 9),
        (44.366203353, 170.8, 1.5),
        (-44.366203353, 170.8, 1.5),
    ]]
    fillet(fillet_2_edges, radius=FILLET_2_R)

    # 圆角3
    fillet_3_edges = [part.edges().sort_by_distance(p)[0] for p in [
        (30.8, 165, 21.5),
        (42.426406871, 165, 21.5),
        (-42.426406871, 165, 21.5),
        (-30.8, 165, 21.5),
    ]]
    fillet(fillet_3_edges, radius=FILLET_3_R)


solid = part.part
